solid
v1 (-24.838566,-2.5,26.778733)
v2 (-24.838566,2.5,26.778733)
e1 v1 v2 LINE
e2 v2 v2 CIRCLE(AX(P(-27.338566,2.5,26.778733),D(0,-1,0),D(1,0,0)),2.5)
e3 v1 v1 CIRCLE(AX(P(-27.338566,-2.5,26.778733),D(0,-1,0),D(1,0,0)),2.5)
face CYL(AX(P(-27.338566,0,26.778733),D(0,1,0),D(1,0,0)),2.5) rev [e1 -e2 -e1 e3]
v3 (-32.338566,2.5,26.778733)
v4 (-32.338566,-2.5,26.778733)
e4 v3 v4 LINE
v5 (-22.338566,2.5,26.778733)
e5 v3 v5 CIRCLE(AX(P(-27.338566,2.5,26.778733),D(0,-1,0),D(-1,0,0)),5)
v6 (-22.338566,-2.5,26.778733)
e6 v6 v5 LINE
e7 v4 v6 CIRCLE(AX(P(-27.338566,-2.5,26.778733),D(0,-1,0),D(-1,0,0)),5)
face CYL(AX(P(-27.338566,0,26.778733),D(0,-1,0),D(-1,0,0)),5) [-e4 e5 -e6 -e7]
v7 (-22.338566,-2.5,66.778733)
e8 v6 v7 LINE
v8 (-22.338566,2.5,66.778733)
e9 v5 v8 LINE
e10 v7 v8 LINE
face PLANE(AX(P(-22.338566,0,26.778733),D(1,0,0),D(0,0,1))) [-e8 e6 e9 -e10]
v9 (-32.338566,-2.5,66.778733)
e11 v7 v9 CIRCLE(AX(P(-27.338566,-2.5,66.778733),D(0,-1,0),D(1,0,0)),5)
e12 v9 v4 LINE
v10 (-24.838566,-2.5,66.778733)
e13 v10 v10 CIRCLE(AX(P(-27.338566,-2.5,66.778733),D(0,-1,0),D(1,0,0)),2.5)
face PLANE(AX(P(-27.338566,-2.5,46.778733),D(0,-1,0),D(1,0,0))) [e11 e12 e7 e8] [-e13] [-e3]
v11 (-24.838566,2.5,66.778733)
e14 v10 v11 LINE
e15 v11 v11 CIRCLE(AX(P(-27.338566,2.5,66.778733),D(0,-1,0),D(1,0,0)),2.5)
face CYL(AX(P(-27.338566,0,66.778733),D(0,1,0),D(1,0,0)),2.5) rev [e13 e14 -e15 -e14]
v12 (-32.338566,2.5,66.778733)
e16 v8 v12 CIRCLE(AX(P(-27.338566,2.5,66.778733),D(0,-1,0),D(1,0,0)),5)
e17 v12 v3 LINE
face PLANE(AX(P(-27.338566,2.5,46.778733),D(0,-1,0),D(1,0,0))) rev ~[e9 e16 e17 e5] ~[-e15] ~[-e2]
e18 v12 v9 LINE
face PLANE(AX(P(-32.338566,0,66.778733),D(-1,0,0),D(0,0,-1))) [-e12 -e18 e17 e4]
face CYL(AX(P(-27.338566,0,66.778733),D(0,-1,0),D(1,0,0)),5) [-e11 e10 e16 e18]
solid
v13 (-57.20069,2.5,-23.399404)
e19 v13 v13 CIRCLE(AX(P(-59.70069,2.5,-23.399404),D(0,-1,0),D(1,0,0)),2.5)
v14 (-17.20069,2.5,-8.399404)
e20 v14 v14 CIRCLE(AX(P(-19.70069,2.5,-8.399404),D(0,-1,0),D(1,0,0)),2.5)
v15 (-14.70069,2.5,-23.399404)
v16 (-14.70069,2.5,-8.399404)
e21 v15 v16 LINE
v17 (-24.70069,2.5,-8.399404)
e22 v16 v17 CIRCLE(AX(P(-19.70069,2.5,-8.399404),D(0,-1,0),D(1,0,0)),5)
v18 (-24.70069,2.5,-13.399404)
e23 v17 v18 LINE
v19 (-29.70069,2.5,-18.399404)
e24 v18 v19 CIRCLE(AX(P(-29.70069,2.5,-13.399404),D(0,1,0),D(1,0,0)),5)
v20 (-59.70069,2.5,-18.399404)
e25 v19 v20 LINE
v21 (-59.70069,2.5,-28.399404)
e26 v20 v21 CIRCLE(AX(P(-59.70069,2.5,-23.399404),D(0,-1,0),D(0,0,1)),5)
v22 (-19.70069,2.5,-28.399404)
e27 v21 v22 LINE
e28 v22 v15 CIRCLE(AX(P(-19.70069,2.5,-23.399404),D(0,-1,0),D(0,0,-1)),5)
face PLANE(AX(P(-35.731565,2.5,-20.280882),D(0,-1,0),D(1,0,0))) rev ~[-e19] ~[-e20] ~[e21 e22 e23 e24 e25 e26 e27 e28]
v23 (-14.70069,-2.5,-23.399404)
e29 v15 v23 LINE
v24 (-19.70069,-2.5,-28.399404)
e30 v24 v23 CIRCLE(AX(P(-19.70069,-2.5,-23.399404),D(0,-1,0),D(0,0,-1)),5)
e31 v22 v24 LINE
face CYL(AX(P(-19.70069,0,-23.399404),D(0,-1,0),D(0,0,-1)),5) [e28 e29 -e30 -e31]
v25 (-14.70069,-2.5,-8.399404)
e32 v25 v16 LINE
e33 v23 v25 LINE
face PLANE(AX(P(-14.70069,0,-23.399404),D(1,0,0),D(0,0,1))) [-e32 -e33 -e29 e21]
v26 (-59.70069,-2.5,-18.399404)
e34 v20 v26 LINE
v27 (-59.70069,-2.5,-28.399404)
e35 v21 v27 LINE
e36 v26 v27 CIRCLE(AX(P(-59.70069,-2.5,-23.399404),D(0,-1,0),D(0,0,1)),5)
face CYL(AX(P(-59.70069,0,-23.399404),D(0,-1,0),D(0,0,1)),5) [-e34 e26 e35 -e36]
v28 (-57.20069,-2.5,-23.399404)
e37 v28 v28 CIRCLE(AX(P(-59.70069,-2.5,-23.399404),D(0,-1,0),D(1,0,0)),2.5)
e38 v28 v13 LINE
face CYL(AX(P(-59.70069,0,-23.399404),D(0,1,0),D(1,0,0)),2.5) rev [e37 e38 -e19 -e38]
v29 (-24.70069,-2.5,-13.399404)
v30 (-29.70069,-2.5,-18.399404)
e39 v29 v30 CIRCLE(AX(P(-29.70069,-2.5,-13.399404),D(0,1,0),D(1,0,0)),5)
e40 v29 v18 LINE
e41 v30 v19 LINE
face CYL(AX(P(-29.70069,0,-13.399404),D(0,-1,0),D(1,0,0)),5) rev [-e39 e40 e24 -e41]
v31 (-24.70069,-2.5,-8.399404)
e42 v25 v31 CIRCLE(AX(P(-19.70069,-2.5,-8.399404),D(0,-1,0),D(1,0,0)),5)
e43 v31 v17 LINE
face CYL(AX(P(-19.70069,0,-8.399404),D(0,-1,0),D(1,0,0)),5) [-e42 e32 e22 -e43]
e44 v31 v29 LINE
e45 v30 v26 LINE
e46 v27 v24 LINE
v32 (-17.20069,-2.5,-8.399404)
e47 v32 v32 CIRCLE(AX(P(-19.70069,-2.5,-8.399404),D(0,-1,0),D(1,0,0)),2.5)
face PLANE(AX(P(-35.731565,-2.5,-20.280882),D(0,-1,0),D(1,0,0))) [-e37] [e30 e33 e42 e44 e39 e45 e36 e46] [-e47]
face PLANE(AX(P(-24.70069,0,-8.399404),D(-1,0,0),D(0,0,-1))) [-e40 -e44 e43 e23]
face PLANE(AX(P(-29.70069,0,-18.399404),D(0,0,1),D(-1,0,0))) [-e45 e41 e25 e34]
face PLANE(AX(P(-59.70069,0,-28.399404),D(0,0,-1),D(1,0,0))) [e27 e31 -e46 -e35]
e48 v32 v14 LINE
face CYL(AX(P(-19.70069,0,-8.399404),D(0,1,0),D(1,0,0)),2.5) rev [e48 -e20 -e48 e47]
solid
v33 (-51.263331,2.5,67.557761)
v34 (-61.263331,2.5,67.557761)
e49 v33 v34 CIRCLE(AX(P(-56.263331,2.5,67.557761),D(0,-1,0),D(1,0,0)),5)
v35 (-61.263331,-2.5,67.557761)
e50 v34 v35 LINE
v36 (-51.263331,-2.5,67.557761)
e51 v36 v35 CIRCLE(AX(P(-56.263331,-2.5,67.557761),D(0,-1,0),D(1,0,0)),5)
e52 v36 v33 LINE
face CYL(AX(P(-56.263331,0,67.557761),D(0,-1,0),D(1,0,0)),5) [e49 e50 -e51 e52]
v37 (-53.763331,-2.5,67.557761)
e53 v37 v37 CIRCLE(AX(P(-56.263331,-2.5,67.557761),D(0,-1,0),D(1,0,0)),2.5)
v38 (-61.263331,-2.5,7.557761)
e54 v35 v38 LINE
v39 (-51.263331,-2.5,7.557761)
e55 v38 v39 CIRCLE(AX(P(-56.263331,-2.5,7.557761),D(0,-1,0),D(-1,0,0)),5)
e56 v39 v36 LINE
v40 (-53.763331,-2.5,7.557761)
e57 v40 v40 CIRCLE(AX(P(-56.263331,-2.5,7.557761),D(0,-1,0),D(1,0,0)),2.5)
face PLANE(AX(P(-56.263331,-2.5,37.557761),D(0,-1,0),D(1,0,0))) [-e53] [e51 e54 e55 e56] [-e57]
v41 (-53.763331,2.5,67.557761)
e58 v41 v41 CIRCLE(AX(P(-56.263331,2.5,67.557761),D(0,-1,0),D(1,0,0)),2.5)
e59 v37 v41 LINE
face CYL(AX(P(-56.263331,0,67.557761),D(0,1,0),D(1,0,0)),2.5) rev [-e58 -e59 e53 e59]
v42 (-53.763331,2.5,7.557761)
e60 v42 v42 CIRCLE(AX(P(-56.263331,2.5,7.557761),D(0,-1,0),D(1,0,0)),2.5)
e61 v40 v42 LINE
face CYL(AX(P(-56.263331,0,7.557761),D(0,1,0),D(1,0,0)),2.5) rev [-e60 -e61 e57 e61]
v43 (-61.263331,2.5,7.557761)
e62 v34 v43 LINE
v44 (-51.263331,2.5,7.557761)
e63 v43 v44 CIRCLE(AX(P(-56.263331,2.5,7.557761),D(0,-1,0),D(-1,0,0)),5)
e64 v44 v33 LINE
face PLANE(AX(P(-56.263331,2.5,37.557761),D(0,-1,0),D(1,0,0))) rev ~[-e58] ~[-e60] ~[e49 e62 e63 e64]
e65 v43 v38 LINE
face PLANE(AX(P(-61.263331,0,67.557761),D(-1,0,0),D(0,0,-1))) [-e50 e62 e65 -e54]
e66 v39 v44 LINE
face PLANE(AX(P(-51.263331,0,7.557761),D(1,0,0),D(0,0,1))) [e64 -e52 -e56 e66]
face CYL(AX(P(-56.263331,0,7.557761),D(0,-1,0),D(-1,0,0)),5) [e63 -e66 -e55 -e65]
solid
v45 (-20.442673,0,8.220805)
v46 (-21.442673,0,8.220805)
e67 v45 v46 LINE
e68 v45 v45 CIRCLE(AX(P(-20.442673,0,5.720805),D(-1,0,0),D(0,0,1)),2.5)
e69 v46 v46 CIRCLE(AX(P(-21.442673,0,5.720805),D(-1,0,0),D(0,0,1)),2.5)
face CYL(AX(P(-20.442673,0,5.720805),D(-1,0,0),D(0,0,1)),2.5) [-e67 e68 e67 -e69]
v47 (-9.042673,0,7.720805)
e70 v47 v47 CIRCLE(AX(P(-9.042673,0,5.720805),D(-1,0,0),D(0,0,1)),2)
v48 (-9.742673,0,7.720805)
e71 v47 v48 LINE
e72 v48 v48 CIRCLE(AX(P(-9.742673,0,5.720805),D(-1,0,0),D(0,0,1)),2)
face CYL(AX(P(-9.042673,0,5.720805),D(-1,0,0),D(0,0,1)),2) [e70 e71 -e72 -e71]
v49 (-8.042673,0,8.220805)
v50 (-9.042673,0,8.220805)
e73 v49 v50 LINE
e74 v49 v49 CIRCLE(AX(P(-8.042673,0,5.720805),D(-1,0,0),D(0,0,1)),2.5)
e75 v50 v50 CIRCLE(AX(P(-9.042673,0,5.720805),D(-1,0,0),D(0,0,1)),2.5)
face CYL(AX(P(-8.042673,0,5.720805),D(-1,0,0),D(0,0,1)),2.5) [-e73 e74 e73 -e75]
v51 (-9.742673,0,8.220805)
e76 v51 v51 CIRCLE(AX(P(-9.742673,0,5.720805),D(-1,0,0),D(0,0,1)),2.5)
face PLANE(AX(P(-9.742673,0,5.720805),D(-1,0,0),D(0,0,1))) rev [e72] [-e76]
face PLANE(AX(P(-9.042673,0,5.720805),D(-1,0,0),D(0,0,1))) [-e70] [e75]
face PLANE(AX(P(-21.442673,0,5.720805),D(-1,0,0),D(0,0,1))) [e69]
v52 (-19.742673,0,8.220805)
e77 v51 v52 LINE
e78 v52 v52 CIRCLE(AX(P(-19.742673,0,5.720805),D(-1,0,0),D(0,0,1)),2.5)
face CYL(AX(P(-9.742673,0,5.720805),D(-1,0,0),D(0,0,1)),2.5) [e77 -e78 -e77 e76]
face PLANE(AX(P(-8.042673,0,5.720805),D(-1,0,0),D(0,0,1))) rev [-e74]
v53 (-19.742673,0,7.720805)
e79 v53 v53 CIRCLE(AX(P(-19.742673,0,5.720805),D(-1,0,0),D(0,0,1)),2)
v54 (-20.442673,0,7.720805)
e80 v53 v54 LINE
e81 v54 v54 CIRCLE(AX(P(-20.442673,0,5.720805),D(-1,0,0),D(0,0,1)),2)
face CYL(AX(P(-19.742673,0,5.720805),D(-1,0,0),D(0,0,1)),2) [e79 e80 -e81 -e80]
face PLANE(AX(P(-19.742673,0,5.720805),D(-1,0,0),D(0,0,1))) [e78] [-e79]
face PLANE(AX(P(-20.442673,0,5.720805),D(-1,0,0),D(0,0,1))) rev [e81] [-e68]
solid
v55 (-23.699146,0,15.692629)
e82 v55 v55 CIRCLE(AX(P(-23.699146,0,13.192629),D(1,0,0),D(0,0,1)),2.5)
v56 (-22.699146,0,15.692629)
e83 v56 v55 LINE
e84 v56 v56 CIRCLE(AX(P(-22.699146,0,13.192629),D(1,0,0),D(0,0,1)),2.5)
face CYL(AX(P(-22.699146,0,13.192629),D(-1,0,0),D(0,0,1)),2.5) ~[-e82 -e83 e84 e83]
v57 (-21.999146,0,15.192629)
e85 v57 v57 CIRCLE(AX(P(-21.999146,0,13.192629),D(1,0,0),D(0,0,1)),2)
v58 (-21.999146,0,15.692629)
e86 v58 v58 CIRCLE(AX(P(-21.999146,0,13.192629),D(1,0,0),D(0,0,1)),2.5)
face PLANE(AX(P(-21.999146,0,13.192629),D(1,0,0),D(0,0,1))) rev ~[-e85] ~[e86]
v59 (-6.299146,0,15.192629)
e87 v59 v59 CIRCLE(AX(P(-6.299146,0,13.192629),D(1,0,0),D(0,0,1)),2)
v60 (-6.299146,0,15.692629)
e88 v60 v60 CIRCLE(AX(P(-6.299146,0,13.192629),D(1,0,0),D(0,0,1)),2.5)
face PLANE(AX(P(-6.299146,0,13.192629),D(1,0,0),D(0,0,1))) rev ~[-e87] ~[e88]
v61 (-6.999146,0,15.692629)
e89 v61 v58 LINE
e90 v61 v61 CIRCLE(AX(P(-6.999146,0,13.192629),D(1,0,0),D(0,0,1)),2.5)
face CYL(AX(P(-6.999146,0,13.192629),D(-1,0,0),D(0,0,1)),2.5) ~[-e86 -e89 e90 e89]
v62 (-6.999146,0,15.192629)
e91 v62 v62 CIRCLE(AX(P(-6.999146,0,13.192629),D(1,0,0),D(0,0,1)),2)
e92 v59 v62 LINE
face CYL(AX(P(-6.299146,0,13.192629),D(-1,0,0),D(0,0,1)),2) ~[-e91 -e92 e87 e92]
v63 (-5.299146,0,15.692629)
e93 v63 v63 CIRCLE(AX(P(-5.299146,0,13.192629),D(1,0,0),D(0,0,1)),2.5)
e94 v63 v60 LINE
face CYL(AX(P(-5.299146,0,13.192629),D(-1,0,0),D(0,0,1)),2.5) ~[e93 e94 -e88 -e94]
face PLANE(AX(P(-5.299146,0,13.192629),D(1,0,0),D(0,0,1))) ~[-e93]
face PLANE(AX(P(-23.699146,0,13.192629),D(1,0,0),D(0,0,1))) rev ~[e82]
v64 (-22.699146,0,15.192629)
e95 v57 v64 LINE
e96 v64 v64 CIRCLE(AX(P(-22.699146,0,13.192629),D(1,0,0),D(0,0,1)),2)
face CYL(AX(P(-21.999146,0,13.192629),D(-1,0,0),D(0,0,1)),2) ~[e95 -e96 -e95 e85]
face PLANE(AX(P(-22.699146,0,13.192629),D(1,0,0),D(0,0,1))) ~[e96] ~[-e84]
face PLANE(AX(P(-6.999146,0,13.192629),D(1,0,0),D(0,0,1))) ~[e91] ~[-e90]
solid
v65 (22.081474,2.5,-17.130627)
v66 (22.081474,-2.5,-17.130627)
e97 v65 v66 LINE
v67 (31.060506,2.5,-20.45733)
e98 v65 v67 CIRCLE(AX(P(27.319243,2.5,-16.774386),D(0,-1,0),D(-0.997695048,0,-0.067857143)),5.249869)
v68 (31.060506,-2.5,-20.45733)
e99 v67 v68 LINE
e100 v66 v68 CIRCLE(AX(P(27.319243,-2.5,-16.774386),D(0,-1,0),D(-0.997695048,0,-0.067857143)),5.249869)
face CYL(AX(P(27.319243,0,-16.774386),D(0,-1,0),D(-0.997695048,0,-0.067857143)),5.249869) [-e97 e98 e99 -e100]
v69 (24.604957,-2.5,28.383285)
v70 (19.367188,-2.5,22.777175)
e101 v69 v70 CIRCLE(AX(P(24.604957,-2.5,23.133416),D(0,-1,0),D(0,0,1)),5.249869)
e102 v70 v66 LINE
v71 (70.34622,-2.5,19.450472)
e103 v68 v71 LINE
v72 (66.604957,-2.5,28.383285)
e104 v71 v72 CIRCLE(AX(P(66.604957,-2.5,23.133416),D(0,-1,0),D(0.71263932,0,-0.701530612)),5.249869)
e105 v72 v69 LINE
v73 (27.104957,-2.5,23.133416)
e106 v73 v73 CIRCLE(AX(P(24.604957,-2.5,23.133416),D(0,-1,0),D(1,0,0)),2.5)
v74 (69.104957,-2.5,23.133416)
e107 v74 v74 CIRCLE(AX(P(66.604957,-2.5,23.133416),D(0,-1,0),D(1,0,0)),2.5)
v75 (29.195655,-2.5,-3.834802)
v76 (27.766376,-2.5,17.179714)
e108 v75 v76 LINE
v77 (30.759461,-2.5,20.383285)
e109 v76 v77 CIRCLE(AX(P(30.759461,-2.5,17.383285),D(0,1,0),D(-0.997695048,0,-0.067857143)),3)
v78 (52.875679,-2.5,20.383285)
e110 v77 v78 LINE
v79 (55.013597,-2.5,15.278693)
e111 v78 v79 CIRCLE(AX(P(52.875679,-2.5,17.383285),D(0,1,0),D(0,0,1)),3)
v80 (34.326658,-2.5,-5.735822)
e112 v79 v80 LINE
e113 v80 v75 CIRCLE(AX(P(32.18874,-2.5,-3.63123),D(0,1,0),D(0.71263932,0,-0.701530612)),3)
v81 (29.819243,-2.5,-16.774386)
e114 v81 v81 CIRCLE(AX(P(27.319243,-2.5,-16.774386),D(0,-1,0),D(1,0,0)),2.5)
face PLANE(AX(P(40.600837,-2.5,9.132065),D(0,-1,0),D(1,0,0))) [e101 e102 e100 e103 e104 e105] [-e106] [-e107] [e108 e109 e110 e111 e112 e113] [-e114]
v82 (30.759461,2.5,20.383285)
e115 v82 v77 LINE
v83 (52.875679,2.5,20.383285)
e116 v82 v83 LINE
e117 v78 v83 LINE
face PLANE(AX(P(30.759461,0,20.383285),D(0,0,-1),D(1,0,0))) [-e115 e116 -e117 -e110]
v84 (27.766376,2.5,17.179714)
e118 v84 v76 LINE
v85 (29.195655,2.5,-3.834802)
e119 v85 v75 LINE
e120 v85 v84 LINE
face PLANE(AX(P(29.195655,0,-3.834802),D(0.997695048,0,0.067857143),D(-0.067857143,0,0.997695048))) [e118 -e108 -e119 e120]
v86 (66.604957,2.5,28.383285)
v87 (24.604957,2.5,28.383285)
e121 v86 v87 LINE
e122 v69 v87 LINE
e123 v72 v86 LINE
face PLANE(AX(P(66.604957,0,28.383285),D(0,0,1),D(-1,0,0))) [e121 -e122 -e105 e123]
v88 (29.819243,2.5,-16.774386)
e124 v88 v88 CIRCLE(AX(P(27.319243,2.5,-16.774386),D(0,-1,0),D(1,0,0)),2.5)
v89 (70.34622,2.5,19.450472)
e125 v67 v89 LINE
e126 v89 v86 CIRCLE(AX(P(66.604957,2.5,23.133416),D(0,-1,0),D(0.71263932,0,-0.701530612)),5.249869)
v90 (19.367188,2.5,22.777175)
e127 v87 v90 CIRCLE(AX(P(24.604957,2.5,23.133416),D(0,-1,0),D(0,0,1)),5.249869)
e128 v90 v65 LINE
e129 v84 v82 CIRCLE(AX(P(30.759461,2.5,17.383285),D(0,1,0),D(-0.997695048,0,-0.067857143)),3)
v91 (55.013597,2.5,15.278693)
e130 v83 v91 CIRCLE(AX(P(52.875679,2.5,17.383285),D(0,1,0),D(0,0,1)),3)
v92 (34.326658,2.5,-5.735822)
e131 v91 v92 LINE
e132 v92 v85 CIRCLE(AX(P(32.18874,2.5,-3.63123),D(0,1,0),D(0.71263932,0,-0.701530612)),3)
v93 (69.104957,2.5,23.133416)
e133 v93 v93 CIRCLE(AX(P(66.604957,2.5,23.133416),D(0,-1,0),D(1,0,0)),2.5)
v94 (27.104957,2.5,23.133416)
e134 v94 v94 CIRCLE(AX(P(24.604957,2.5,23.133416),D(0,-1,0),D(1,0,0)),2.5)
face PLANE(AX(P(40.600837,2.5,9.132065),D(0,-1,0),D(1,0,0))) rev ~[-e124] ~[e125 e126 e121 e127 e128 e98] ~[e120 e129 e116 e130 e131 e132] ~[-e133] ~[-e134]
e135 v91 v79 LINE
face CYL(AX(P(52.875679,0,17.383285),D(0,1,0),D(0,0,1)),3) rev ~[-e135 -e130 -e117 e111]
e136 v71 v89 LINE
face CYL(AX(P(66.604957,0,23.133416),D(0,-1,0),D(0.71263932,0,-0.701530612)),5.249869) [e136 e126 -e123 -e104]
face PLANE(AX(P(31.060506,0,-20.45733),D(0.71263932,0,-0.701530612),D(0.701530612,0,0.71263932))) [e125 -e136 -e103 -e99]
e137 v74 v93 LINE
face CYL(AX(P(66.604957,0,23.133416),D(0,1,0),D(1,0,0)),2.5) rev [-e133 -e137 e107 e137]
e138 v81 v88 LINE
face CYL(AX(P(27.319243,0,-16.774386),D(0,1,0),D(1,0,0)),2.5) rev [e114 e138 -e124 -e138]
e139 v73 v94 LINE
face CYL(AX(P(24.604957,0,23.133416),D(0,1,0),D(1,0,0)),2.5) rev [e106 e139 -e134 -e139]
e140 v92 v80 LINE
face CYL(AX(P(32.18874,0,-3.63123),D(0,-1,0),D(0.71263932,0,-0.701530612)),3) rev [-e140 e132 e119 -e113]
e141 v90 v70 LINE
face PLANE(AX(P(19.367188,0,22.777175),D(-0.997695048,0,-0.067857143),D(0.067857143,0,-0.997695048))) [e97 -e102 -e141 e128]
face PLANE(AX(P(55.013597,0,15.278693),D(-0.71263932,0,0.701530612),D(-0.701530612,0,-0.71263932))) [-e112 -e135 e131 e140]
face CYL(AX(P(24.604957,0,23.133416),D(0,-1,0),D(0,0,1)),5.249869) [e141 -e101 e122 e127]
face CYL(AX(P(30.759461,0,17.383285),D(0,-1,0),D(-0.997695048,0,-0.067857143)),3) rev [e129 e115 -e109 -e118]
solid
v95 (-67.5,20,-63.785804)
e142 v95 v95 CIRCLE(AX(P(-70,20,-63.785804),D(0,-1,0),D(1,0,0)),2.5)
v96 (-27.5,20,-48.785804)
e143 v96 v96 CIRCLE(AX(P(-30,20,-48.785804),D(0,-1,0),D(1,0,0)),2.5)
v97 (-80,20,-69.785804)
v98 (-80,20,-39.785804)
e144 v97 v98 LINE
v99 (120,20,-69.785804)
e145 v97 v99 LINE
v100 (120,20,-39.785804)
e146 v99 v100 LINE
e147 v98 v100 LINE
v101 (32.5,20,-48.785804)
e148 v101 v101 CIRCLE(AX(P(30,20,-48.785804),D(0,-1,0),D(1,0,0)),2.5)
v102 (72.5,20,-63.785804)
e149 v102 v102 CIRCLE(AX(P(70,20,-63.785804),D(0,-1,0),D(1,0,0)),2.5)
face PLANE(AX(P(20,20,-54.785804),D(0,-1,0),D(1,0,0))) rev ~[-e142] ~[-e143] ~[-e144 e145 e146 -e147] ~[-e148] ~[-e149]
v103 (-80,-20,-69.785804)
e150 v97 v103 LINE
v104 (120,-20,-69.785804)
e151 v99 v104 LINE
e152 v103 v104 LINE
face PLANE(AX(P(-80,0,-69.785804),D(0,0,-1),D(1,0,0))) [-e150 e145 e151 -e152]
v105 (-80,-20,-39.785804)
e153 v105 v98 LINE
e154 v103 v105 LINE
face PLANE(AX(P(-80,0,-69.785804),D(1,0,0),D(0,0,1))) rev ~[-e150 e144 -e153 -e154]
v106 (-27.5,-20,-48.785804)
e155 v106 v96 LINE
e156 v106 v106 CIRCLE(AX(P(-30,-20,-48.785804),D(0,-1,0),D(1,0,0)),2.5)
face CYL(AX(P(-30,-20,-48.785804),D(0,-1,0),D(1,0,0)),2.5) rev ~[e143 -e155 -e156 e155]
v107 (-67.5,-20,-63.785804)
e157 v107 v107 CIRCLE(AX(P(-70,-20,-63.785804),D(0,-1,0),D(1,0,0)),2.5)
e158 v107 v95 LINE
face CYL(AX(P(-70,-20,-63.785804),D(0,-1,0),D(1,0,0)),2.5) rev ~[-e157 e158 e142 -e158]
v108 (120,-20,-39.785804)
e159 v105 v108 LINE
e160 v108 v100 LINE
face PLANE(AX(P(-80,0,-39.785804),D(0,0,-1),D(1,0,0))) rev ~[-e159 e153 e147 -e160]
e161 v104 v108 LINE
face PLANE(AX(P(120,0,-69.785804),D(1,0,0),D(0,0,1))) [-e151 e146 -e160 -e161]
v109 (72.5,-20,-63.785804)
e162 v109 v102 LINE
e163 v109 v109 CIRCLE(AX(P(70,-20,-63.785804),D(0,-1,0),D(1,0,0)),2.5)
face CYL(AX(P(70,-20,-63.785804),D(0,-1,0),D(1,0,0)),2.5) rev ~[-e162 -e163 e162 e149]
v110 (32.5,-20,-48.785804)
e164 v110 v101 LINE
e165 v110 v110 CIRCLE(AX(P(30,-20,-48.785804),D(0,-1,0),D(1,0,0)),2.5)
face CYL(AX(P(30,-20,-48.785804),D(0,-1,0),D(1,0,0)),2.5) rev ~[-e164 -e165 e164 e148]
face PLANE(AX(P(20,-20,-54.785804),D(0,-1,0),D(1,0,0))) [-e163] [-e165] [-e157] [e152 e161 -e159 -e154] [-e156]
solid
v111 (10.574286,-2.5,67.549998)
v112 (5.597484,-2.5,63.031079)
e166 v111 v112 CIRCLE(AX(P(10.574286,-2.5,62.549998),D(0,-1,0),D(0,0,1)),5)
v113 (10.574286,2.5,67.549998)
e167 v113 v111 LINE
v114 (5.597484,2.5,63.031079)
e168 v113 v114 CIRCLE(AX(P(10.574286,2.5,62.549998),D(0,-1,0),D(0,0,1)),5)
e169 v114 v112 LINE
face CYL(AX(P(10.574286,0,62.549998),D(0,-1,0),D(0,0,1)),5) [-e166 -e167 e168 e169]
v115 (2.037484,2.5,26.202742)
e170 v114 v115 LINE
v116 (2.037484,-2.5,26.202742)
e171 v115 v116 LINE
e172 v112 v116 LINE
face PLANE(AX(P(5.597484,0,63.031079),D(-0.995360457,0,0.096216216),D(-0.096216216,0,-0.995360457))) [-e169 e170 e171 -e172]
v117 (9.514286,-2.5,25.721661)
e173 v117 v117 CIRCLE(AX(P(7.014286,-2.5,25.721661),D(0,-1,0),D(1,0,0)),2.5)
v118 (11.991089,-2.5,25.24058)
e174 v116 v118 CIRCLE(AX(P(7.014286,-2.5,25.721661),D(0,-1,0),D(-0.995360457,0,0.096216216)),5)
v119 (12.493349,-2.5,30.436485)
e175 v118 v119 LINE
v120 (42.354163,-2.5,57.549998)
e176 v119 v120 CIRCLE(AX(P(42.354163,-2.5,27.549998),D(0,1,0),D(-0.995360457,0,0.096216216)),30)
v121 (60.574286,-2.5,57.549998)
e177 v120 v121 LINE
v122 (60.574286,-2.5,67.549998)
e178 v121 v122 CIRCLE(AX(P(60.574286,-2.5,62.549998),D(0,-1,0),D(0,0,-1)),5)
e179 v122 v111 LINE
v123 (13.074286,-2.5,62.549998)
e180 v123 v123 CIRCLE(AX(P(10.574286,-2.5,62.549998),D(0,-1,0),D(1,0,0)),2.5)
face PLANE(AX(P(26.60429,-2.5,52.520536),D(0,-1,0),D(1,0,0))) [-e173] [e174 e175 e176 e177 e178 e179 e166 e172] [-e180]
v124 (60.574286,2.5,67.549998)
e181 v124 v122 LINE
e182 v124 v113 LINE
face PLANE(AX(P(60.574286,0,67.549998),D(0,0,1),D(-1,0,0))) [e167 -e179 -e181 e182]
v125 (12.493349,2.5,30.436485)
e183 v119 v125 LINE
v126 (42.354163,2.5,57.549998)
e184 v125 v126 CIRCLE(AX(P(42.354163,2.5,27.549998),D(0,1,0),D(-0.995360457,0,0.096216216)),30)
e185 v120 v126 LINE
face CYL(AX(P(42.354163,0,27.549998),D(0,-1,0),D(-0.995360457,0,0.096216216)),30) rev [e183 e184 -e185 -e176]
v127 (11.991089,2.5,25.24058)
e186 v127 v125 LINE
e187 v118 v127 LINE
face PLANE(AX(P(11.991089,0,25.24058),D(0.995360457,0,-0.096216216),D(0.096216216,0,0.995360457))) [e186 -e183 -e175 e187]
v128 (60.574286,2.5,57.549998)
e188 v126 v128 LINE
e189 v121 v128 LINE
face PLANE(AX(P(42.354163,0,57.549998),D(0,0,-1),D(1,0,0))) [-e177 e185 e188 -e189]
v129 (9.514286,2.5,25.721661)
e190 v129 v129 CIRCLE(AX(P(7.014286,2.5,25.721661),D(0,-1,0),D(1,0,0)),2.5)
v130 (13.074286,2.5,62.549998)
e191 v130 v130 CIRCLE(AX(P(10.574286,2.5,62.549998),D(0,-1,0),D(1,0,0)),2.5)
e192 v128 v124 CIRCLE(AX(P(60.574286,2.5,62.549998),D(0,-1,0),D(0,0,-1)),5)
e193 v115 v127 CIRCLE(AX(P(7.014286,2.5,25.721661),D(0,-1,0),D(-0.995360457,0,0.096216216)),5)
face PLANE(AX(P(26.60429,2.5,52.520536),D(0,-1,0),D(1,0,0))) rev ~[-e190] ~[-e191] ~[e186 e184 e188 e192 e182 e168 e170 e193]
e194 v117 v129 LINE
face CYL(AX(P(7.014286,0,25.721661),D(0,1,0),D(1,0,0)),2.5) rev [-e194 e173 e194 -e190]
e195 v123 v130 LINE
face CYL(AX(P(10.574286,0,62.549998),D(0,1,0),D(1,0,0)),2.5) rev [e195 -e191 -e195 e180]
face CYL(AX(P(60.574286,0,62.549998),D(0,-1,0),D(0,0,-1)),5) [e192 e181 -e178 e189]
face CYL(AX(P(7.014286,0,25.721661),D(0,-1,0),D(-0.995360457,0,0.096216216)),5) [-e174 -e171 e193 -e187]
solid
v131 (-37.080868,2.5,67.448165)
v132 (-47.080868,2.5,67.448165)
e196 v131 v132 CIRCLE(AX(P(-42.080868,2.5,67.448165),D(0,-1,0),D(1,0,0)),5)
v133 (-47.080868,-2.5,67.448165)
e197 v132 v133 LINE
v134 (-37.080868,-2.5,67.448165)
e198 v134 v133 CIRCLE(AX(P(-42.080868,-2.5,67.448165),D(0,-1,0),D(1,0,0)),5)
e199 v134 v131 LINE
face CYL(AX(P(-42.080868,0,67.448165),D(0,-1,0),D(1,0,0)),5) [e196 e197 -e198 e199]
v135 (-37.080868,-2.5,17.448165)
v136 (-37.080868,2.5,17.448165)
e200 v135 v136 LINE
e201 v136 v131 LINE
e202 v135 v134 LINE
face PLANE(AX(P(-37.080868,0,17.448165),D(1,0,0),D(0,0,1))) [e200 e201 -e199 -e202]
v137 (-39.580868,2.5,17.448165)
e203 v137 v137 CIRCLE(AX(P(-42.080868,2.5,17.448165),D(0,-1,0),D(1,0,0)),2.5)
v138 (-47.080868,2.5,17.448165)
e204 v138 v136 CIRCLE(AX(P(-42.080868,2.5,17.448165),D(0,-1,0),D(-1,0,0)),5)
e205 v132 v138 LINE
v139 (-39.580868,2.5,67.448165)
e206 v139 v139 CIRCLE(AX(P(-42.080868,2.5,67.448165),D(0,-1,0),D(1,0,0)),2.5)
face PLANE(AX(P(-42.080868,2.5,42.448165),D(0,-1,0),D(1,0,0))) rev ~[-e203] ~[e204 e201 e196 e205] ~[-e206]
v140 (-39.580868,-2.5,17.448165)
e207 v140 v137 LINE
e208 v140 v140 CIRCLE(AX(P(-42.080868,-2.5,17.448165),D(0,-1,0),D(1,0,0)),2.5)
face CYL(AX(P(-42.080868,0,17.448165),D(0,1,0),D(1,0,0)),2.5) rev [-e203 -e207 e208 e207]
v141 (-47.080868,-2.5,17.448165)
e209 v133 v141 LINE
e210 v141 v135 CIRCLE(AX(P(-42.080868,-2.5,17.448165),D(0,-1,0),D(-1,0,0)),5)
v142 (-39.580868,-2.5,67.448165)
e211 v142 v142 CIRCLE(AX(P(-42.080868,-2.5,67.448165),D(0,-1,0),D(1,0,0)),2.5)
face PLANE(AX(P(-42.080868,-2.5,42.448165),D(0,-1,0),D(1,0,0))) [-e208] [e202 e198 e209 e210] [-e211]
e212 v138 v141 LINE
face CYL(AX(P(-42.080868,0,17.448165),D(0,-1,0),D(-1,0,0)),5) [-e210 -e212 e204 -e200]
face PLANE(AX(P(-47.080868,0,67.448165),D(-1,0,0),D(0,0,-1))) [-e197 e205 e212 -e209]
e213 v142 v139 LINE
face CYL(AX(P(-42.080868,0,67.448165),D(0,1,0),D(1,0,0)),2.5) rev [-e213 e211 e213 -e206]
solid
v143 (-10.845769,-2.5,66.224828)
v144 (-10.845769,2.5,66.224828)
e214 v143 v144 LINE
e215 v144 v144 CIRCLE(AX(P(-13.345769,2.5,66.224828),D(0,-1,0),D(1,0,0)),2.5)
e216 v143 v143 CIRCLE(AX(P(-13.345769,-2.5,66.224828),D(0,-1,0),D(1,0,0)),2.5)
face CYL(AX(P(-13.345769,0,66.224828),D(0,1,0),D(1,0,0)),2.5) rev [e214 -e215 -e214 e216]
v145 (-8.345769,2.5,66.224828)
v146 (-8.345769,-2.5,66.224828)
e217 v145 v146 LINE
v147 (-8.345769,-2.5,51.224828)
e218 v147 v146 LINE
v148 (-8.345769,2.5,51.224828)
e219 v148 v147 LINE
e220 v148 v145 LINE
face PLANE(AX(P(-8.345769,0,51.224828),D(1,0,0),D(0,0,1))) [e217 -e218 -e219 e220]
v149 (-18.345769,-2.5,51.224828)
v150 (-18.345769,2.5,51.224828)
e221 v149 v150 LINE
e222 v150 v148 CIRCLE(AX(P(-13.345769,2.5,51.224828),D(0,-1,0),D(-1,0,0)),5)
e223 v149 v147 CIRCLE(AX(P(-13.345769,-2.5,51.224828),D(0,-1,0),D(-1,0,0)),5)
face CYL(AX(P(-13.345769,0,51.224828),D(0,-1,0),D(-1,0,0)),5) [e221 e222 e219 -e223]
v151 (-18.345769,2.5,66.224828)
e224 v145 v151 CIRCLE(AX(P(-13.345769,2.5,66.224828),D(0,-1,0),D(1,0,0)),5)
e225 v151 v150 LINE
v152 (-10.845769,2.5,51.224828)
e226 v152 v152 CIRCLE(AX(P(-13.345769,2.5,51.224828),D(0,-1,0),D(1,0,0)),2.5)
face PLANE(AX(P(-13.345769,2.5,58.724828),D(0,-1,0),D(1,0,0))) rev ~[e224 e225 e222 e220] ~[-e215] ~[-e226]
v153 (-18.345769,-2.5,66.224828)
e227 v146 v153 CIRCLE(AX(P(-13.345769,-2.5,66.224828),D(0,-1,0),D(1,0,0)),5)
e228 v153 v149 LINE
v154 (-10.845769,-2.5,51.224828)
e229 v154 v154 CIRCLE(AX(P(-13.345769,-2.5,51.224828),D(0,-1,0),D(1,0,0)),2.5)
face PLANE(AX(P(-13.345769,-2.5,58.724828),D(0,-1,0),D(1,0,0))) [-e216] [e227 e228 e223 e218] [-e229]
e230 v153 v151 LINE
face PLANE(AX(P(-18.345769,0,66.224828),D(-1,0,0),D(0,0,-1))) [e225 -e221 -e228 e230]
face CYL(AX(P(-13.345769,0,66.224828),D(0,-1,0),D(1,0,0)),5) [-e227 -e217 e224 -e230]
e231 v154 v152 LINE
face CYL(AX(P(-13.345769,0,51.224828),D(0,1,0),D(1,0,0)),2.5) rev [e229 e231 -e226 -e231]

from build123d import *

# Parameters (mm, degrees)
F2_R      = 2.5
F3_DEPTH  = 2.5
F4_R      = 2.5
F5_DEPTH  = 2.5
F6_R      = 2.5
F7_DEPTH  = 2.5
F8_R      = 2.5
F9_DEPTH  = 2.5
F10_R     = 2.5
F11_DEPTH = 2.5
F12_R     = 2.5
F13_DEPTH = 2.5
F18_R     = 2.5
F19_DEPTH = 2.5
F20_W     = 200
F20_H     = 30
F21_DEPTH = 20
F22_R     = 2.5
F23_DEPTH = 40


with BuildPart() as f3:
    # F2 (on Front) → F3 (new body, symmetric)
    with BuildSketch(Plane.XZ):
        with BuildLine():
            ThreePointArc((-18.3457694519, 51.2248277664), (-13.3457694519, 46.2248277664), (-8.3457694519, 51.2248277664))
            Line((-8.3457694519, 51.2248277664), (-8.3457694519, 66.2248277664))
            ThreePointArc((-8.3457694519, 66.2248277664), (-13.3457694519, 71.2248277664), (-18.3457694519, 66.2248277664))
            Line((-18.3457694519, 66.2248277664), (-18.3457694519, 51.2248277664))
        make_face()
        with Locations((-13.3457694519, 51.2248277664)):
            Circle(F2_R, mode=Mode.SUBTRACT)
        with Locations((-13.3457694519, 66.2248277664)):
            Circle(F2_R, mode=Mode.SUBTRACT)
    extrude(amount=F3_DEPTH, both=True)


with BuildPart() as f5:
    # F4 (on Front) → F5 (new body, symmetric)
    with BuildSketch(Plane.XZ):
        with BuildLine():
            ThreePointArc((-22.3385662585, 66.7787333578), (-27.3385662585, 71.7787333578), (-32.3385662585, 66.7787333578))
            Line((-32.3385662585, 66.7787333578), (-32.3385662585, 26.7787333578))
            ThreePointArc((-32.3385662585, 26.7787333578), (-27.3385662585, 21.7787333578), (-22.3385662585, 26.7787333578))
            Line((-22.3385662585, 26.7787333578), (-22.3385662585, 66.7787333578))
        make_face()
        with Locations((-27.3385662585, 26.7787333578)):
            Circle(F4_R, mode=Mode.SUBTRACT)
        with Locations((-27.3385662585, 66.7787333578)):
            Circle(F4_R, mode=Mode.SUBTRACT)
    extrude(amount=F5_DEPTH, both=True)


with BuildPart() as f7:
    # F6 (on Front) → F7 (new body, symmetric)
    with BuildSketch(Plane.XZ):
        with BuildLine():
            ThreePointArc((-37.0808680356, 67.4481645226), (-42.0808680356, 72.4481645226), (-47.0808680356, 67.4481645226))
            Line((-47.0808680356, 67.4481645226), (-47.0808680356, 17.4481645226))
            ThreePointArc((-47.0808680356, 17.4481645226), (-42.0808680356, 12.4481645226), (-37.0808680356, 17.4481645226))
            Line((-37.0808680356, 17.4481645226), (-37.0808680356, 67.4481645226))
        make_face()
        with Locations((-42.0808680356, 17.4481645226)):
            Circle(F6_R, mode=Mode.SUBTRACT)
        with Locations((-42.0808680356, 67.4481645226)):
            Circle(F6_R, mode=Mode.SUBTRACT)
    extrude(amount=F7_DEPTH, both=True)


with BuildPart() as f9:
    # F8 (on Front) → F9 (new body, symmetric)
    with BuildSketch(Plane.XZ):
        with BuildLine():
            ThreePointArc((-51.2633313239, 67.5577609241), (-56.2633313239, 72.5577609241), (-61.2633313239, 67.5577609241))
            Line((-61.2633313239, 67.5577609241), (-61.2633313239, 7.5577609241))
            ThreePointArc((-61.2633313239, 7.5577609241), (-56.2633313239, 2.5577609241), (-51.2633313239, 7.5577609241))
            Line((-51.2633313239, 7.5577609241), (-51.2633313239, 67.5577609241))
        make_face()
        with Locations((-56.2633313239, 7.5577609241)):
            Circle(F8_R, mode=Mode.SUBTRACT)
        with Locations((-56.2633313239, 67.5577609241)):
            Circle(F8_R, mode=Mode.SUBTRACT)
    extrude(amount=F9_DEPTH, both=True)


with BuildPart() as f11:
    # F10 (on Front) → F11 (new body, symmetric)
    with BuildSketch(Plane.XZ):
        with BuildLine():
            ThreePointArc((60.5742862523, 57.5499981642), (65.5742862523, 62.5499981642), (60.5742862523, 67.5499981642))
            Line((60.5742862523, 67.5499981642), (10.5742862523, 67.5499981642))
            ThreePointArc((10.5742862523, 67.5499981642), (7.2131410164, 66.2517143476), (5.5974839664, 63.0310792453))
            Line((5.5974839664, 63.0310792453), (2.0374839664, 26.2027423292))
            ThreePointArc((2.0374839664, 26.2027423292), (6.5332051713, 20.7448589622), (11.9910885383, 25.2405801671))
            Line((11.9910885383, 25.2405801671), (12.4933490667, 30.4364846507))
            ThreePointArc((12.4933490667, 30.4364846507), (22.1872913666, 49.7602952648), (42.3541627824, 57.5499981642))
            Line((42.3541627824, 57.5499981642), (60.5742862523, 57.5499981642))
        make_face()
        with Locations((7.0142862523, 25.7216612482)):
            Circle(F10_R, mode=Mode.SUBTRACT)
        with Locations((10.5742862523, 62.5499981642)):
            Circle(F10_R, mode=Mode.SUBTRACT)
    extrude(amount=F11_DEPTH, both=True)


with BuildPart() as f13:
    # F12 (on Front) → F13 (new body, symmetric)
    with BuildSketch(Plane.XZ):
        with BuildLine():
            ThreePointArc((24.6049569845, 28.3832850517), (20.7688556237, 26.7174712888), (19.3671883601, 22.7771745962))
            Line((19.3671883601, 22.7771745962), (22.0814740744, -17.130627311))
            ThreePointArc((22.0814740744, -17.130627311), (25.4953402609, -21.6972418338), (31.060506002, -20.4573302187))
            Line((31.060506002, -20.4573302187), (70.3462202877, 19.4504716885))
            ThreePointArc((70.3462202877, 19.4504716885), (71.4472757908, 25.1614878395), (66.6049569845, 28.3832850517))
            Line((66.6049569845, 28.3832850517), (24.6049569845, 28.3832850517))
        make_face()
        with Locations((27.3192426988, -16.7743861784)):
            Circle(F12_R, mode=Mode.SUBTRACT)
        with BuildLine():
            ThreePointArc((27.7663757955, 17.1797136232), (28.5673484545, 19.4313677789), (30.7594609386, 20.3832850517))
            Line((30.7594609386, 20.3832850517), (52.8756789332, 20.3832850517))
            ThreePointArc((52.8756789332, 20.3832850517), (55.6427871268, 18.5422122474), (55.0135968925, 15.278693215))
            Line((55.0135968925, 15.278693215), (34.3266582921, -5.7358221818))
            ThreePointArc((34.3266582921, -5.7358221818), (31.1464844256, -6.4443607409), (29.1956551897, -3.8348017736))
            Line((29.1956551897, -3.8348017736), (27.7663757955, 17.1797136232))
        make_face(mode=Mode.SUBTRACT)
        with Locations((24.6049569845, 23.1334157288)):
            Circle(F12_R, mode=Mode.SUBTRACT)
        with Locations((66.6049569845, 23.1334157288)):
            Circle(F12_R, mode=Mode.SUBTRACT)
    extrude(amount=F13_DEPTH, both=True)


with BuildPart() as f15:
    # F14 (on Front) → F15 (revolve)
    with BuildSketch(Plane.XZ):
        Polygon((-21.442672649, 8.2208053768), (-21.442672649, 5.7208053768), (-8.042672649, 5.7208053768), (-8.042672649, 8.2208053768), (-9.042672649, 8.2208053768), (-9.042672649, 7.7208053768), (-9.742672649, 7.7208053768), (-9.742672649, 8.2208053768), (-19.742672649, 8.2208053768), (-19.742672649, 7.7208053768), (-20.442672649, 7.7208053768), (-20.442672649, 8.2208053768), align=None)
    revolve(axis=Axis((-14.742672649, 0, 5.7208053768), (-1, 0, 0)))


with BuildPart() as f17:
    # F16 (on Front) → F17 (revolve)
    with BuildSketch(Plane.XZ):
        Polygon((-22.6991458215, 15.6926294416), (-23.6991458215, 15.6926294416), (-23.6991458215, 13.1926294416), (-5.2991458215, 13.1926294416), (-5.2991458215, 15.6926294416), (-6.2991458215, 15.6926294416), (-6.2991458215, 15.1926294416), (-6.9991458215, 15.1926294416), (-6.9991458215, 15.6926294416), (-21.9991458215, 15.6926294416), (-21.9991458215, 15.1926294416), (-22.6991458215, 15.1926294416), align=None)
    revolve(axis=Axis((-14.4991458215, 0, 13.1926294416), (1, 0, 0)))


with BuildPart() as f19:
    # F18 (on Front) → F19 (new body, symmetric)
    with BuildSketch(Plane.XZ):
        with BuildLine():
            Line((-29.7006900609, -18.3994043618), (-59.7006900609, -18.3994043618))
            ThreePointArc((-59.7006900609, -18.3994043618), (-64.7006900609, -23.3994043618), (-59.7006900609, -28.3994043618))
            Line((-59.7006900609, -28.3994043618), (-19.7006900609, -28.3994043618))
            ThreePointArc((-19.7006900609, -28.3994043618), (-16.1651561549, -26.9349382678), (-14.7006900609, -23.3994043618))
            Line((-14.7006900609, -23.3994043618), (-14.7006900609, -8.3994043618))
            ThreePointArc((-14.7006900609, -8.3994043618), (-19.7006900609, -3.3994043618), (-24.7006900609, -8.3994043618))
            Line((-24.7006900609, -8.3994043618), (-24.7006900609, -13.3994043618))
            ThreePointArc((-24.7006900609, -13.3994043618), (-26.1651561549, -16.9349382678), (-29.7006900609, -18.3994043618))
        make_face()
        with Locations((-59.7006900609, -23.3994043618)):
            Circle(F18_R, mode=Mode.SUBTRACT)
        with Locations((-19.7006900609, -8.3994043618)):
            Circle(F18_R, mode=Mode.SUBTRACT)
    extrude(amount=F19_DEPTH, both=True)


with BuildPart() as f21:
    # F20 (on Front) → F21 (new body, symmetric)
    with BuildSketch(Plane.XZ):
        with Locations((20, -54.7858035564)):
            Rectangle(F20_W, F20_H)
    extrude(amount=F21_DEPTH, both=True)

    # F22 (on face) → F23 (cut, through all)
    with BuildSketch(Plane.XZ.offset(20)):
        with Locations((-70, -63.7858035564)):
            Circle(F22_R)
        with Locations((-30, -48.7858035564)):
            Circle(F22_R)
        with Locations((30, -48.7858035564)):
            Circle(F22_R)
        with Locations((70, -63.7858035564)):
            Circle(F22_R)
    extrude(amount=-F23_DEPTH, mode=Mode.SUBTRACT)


solid = Compound([f3.part, f5.part, f7.part, f9.part, f11.part, f13.part, f15.part, f17.part, f19.part, f21.part])
